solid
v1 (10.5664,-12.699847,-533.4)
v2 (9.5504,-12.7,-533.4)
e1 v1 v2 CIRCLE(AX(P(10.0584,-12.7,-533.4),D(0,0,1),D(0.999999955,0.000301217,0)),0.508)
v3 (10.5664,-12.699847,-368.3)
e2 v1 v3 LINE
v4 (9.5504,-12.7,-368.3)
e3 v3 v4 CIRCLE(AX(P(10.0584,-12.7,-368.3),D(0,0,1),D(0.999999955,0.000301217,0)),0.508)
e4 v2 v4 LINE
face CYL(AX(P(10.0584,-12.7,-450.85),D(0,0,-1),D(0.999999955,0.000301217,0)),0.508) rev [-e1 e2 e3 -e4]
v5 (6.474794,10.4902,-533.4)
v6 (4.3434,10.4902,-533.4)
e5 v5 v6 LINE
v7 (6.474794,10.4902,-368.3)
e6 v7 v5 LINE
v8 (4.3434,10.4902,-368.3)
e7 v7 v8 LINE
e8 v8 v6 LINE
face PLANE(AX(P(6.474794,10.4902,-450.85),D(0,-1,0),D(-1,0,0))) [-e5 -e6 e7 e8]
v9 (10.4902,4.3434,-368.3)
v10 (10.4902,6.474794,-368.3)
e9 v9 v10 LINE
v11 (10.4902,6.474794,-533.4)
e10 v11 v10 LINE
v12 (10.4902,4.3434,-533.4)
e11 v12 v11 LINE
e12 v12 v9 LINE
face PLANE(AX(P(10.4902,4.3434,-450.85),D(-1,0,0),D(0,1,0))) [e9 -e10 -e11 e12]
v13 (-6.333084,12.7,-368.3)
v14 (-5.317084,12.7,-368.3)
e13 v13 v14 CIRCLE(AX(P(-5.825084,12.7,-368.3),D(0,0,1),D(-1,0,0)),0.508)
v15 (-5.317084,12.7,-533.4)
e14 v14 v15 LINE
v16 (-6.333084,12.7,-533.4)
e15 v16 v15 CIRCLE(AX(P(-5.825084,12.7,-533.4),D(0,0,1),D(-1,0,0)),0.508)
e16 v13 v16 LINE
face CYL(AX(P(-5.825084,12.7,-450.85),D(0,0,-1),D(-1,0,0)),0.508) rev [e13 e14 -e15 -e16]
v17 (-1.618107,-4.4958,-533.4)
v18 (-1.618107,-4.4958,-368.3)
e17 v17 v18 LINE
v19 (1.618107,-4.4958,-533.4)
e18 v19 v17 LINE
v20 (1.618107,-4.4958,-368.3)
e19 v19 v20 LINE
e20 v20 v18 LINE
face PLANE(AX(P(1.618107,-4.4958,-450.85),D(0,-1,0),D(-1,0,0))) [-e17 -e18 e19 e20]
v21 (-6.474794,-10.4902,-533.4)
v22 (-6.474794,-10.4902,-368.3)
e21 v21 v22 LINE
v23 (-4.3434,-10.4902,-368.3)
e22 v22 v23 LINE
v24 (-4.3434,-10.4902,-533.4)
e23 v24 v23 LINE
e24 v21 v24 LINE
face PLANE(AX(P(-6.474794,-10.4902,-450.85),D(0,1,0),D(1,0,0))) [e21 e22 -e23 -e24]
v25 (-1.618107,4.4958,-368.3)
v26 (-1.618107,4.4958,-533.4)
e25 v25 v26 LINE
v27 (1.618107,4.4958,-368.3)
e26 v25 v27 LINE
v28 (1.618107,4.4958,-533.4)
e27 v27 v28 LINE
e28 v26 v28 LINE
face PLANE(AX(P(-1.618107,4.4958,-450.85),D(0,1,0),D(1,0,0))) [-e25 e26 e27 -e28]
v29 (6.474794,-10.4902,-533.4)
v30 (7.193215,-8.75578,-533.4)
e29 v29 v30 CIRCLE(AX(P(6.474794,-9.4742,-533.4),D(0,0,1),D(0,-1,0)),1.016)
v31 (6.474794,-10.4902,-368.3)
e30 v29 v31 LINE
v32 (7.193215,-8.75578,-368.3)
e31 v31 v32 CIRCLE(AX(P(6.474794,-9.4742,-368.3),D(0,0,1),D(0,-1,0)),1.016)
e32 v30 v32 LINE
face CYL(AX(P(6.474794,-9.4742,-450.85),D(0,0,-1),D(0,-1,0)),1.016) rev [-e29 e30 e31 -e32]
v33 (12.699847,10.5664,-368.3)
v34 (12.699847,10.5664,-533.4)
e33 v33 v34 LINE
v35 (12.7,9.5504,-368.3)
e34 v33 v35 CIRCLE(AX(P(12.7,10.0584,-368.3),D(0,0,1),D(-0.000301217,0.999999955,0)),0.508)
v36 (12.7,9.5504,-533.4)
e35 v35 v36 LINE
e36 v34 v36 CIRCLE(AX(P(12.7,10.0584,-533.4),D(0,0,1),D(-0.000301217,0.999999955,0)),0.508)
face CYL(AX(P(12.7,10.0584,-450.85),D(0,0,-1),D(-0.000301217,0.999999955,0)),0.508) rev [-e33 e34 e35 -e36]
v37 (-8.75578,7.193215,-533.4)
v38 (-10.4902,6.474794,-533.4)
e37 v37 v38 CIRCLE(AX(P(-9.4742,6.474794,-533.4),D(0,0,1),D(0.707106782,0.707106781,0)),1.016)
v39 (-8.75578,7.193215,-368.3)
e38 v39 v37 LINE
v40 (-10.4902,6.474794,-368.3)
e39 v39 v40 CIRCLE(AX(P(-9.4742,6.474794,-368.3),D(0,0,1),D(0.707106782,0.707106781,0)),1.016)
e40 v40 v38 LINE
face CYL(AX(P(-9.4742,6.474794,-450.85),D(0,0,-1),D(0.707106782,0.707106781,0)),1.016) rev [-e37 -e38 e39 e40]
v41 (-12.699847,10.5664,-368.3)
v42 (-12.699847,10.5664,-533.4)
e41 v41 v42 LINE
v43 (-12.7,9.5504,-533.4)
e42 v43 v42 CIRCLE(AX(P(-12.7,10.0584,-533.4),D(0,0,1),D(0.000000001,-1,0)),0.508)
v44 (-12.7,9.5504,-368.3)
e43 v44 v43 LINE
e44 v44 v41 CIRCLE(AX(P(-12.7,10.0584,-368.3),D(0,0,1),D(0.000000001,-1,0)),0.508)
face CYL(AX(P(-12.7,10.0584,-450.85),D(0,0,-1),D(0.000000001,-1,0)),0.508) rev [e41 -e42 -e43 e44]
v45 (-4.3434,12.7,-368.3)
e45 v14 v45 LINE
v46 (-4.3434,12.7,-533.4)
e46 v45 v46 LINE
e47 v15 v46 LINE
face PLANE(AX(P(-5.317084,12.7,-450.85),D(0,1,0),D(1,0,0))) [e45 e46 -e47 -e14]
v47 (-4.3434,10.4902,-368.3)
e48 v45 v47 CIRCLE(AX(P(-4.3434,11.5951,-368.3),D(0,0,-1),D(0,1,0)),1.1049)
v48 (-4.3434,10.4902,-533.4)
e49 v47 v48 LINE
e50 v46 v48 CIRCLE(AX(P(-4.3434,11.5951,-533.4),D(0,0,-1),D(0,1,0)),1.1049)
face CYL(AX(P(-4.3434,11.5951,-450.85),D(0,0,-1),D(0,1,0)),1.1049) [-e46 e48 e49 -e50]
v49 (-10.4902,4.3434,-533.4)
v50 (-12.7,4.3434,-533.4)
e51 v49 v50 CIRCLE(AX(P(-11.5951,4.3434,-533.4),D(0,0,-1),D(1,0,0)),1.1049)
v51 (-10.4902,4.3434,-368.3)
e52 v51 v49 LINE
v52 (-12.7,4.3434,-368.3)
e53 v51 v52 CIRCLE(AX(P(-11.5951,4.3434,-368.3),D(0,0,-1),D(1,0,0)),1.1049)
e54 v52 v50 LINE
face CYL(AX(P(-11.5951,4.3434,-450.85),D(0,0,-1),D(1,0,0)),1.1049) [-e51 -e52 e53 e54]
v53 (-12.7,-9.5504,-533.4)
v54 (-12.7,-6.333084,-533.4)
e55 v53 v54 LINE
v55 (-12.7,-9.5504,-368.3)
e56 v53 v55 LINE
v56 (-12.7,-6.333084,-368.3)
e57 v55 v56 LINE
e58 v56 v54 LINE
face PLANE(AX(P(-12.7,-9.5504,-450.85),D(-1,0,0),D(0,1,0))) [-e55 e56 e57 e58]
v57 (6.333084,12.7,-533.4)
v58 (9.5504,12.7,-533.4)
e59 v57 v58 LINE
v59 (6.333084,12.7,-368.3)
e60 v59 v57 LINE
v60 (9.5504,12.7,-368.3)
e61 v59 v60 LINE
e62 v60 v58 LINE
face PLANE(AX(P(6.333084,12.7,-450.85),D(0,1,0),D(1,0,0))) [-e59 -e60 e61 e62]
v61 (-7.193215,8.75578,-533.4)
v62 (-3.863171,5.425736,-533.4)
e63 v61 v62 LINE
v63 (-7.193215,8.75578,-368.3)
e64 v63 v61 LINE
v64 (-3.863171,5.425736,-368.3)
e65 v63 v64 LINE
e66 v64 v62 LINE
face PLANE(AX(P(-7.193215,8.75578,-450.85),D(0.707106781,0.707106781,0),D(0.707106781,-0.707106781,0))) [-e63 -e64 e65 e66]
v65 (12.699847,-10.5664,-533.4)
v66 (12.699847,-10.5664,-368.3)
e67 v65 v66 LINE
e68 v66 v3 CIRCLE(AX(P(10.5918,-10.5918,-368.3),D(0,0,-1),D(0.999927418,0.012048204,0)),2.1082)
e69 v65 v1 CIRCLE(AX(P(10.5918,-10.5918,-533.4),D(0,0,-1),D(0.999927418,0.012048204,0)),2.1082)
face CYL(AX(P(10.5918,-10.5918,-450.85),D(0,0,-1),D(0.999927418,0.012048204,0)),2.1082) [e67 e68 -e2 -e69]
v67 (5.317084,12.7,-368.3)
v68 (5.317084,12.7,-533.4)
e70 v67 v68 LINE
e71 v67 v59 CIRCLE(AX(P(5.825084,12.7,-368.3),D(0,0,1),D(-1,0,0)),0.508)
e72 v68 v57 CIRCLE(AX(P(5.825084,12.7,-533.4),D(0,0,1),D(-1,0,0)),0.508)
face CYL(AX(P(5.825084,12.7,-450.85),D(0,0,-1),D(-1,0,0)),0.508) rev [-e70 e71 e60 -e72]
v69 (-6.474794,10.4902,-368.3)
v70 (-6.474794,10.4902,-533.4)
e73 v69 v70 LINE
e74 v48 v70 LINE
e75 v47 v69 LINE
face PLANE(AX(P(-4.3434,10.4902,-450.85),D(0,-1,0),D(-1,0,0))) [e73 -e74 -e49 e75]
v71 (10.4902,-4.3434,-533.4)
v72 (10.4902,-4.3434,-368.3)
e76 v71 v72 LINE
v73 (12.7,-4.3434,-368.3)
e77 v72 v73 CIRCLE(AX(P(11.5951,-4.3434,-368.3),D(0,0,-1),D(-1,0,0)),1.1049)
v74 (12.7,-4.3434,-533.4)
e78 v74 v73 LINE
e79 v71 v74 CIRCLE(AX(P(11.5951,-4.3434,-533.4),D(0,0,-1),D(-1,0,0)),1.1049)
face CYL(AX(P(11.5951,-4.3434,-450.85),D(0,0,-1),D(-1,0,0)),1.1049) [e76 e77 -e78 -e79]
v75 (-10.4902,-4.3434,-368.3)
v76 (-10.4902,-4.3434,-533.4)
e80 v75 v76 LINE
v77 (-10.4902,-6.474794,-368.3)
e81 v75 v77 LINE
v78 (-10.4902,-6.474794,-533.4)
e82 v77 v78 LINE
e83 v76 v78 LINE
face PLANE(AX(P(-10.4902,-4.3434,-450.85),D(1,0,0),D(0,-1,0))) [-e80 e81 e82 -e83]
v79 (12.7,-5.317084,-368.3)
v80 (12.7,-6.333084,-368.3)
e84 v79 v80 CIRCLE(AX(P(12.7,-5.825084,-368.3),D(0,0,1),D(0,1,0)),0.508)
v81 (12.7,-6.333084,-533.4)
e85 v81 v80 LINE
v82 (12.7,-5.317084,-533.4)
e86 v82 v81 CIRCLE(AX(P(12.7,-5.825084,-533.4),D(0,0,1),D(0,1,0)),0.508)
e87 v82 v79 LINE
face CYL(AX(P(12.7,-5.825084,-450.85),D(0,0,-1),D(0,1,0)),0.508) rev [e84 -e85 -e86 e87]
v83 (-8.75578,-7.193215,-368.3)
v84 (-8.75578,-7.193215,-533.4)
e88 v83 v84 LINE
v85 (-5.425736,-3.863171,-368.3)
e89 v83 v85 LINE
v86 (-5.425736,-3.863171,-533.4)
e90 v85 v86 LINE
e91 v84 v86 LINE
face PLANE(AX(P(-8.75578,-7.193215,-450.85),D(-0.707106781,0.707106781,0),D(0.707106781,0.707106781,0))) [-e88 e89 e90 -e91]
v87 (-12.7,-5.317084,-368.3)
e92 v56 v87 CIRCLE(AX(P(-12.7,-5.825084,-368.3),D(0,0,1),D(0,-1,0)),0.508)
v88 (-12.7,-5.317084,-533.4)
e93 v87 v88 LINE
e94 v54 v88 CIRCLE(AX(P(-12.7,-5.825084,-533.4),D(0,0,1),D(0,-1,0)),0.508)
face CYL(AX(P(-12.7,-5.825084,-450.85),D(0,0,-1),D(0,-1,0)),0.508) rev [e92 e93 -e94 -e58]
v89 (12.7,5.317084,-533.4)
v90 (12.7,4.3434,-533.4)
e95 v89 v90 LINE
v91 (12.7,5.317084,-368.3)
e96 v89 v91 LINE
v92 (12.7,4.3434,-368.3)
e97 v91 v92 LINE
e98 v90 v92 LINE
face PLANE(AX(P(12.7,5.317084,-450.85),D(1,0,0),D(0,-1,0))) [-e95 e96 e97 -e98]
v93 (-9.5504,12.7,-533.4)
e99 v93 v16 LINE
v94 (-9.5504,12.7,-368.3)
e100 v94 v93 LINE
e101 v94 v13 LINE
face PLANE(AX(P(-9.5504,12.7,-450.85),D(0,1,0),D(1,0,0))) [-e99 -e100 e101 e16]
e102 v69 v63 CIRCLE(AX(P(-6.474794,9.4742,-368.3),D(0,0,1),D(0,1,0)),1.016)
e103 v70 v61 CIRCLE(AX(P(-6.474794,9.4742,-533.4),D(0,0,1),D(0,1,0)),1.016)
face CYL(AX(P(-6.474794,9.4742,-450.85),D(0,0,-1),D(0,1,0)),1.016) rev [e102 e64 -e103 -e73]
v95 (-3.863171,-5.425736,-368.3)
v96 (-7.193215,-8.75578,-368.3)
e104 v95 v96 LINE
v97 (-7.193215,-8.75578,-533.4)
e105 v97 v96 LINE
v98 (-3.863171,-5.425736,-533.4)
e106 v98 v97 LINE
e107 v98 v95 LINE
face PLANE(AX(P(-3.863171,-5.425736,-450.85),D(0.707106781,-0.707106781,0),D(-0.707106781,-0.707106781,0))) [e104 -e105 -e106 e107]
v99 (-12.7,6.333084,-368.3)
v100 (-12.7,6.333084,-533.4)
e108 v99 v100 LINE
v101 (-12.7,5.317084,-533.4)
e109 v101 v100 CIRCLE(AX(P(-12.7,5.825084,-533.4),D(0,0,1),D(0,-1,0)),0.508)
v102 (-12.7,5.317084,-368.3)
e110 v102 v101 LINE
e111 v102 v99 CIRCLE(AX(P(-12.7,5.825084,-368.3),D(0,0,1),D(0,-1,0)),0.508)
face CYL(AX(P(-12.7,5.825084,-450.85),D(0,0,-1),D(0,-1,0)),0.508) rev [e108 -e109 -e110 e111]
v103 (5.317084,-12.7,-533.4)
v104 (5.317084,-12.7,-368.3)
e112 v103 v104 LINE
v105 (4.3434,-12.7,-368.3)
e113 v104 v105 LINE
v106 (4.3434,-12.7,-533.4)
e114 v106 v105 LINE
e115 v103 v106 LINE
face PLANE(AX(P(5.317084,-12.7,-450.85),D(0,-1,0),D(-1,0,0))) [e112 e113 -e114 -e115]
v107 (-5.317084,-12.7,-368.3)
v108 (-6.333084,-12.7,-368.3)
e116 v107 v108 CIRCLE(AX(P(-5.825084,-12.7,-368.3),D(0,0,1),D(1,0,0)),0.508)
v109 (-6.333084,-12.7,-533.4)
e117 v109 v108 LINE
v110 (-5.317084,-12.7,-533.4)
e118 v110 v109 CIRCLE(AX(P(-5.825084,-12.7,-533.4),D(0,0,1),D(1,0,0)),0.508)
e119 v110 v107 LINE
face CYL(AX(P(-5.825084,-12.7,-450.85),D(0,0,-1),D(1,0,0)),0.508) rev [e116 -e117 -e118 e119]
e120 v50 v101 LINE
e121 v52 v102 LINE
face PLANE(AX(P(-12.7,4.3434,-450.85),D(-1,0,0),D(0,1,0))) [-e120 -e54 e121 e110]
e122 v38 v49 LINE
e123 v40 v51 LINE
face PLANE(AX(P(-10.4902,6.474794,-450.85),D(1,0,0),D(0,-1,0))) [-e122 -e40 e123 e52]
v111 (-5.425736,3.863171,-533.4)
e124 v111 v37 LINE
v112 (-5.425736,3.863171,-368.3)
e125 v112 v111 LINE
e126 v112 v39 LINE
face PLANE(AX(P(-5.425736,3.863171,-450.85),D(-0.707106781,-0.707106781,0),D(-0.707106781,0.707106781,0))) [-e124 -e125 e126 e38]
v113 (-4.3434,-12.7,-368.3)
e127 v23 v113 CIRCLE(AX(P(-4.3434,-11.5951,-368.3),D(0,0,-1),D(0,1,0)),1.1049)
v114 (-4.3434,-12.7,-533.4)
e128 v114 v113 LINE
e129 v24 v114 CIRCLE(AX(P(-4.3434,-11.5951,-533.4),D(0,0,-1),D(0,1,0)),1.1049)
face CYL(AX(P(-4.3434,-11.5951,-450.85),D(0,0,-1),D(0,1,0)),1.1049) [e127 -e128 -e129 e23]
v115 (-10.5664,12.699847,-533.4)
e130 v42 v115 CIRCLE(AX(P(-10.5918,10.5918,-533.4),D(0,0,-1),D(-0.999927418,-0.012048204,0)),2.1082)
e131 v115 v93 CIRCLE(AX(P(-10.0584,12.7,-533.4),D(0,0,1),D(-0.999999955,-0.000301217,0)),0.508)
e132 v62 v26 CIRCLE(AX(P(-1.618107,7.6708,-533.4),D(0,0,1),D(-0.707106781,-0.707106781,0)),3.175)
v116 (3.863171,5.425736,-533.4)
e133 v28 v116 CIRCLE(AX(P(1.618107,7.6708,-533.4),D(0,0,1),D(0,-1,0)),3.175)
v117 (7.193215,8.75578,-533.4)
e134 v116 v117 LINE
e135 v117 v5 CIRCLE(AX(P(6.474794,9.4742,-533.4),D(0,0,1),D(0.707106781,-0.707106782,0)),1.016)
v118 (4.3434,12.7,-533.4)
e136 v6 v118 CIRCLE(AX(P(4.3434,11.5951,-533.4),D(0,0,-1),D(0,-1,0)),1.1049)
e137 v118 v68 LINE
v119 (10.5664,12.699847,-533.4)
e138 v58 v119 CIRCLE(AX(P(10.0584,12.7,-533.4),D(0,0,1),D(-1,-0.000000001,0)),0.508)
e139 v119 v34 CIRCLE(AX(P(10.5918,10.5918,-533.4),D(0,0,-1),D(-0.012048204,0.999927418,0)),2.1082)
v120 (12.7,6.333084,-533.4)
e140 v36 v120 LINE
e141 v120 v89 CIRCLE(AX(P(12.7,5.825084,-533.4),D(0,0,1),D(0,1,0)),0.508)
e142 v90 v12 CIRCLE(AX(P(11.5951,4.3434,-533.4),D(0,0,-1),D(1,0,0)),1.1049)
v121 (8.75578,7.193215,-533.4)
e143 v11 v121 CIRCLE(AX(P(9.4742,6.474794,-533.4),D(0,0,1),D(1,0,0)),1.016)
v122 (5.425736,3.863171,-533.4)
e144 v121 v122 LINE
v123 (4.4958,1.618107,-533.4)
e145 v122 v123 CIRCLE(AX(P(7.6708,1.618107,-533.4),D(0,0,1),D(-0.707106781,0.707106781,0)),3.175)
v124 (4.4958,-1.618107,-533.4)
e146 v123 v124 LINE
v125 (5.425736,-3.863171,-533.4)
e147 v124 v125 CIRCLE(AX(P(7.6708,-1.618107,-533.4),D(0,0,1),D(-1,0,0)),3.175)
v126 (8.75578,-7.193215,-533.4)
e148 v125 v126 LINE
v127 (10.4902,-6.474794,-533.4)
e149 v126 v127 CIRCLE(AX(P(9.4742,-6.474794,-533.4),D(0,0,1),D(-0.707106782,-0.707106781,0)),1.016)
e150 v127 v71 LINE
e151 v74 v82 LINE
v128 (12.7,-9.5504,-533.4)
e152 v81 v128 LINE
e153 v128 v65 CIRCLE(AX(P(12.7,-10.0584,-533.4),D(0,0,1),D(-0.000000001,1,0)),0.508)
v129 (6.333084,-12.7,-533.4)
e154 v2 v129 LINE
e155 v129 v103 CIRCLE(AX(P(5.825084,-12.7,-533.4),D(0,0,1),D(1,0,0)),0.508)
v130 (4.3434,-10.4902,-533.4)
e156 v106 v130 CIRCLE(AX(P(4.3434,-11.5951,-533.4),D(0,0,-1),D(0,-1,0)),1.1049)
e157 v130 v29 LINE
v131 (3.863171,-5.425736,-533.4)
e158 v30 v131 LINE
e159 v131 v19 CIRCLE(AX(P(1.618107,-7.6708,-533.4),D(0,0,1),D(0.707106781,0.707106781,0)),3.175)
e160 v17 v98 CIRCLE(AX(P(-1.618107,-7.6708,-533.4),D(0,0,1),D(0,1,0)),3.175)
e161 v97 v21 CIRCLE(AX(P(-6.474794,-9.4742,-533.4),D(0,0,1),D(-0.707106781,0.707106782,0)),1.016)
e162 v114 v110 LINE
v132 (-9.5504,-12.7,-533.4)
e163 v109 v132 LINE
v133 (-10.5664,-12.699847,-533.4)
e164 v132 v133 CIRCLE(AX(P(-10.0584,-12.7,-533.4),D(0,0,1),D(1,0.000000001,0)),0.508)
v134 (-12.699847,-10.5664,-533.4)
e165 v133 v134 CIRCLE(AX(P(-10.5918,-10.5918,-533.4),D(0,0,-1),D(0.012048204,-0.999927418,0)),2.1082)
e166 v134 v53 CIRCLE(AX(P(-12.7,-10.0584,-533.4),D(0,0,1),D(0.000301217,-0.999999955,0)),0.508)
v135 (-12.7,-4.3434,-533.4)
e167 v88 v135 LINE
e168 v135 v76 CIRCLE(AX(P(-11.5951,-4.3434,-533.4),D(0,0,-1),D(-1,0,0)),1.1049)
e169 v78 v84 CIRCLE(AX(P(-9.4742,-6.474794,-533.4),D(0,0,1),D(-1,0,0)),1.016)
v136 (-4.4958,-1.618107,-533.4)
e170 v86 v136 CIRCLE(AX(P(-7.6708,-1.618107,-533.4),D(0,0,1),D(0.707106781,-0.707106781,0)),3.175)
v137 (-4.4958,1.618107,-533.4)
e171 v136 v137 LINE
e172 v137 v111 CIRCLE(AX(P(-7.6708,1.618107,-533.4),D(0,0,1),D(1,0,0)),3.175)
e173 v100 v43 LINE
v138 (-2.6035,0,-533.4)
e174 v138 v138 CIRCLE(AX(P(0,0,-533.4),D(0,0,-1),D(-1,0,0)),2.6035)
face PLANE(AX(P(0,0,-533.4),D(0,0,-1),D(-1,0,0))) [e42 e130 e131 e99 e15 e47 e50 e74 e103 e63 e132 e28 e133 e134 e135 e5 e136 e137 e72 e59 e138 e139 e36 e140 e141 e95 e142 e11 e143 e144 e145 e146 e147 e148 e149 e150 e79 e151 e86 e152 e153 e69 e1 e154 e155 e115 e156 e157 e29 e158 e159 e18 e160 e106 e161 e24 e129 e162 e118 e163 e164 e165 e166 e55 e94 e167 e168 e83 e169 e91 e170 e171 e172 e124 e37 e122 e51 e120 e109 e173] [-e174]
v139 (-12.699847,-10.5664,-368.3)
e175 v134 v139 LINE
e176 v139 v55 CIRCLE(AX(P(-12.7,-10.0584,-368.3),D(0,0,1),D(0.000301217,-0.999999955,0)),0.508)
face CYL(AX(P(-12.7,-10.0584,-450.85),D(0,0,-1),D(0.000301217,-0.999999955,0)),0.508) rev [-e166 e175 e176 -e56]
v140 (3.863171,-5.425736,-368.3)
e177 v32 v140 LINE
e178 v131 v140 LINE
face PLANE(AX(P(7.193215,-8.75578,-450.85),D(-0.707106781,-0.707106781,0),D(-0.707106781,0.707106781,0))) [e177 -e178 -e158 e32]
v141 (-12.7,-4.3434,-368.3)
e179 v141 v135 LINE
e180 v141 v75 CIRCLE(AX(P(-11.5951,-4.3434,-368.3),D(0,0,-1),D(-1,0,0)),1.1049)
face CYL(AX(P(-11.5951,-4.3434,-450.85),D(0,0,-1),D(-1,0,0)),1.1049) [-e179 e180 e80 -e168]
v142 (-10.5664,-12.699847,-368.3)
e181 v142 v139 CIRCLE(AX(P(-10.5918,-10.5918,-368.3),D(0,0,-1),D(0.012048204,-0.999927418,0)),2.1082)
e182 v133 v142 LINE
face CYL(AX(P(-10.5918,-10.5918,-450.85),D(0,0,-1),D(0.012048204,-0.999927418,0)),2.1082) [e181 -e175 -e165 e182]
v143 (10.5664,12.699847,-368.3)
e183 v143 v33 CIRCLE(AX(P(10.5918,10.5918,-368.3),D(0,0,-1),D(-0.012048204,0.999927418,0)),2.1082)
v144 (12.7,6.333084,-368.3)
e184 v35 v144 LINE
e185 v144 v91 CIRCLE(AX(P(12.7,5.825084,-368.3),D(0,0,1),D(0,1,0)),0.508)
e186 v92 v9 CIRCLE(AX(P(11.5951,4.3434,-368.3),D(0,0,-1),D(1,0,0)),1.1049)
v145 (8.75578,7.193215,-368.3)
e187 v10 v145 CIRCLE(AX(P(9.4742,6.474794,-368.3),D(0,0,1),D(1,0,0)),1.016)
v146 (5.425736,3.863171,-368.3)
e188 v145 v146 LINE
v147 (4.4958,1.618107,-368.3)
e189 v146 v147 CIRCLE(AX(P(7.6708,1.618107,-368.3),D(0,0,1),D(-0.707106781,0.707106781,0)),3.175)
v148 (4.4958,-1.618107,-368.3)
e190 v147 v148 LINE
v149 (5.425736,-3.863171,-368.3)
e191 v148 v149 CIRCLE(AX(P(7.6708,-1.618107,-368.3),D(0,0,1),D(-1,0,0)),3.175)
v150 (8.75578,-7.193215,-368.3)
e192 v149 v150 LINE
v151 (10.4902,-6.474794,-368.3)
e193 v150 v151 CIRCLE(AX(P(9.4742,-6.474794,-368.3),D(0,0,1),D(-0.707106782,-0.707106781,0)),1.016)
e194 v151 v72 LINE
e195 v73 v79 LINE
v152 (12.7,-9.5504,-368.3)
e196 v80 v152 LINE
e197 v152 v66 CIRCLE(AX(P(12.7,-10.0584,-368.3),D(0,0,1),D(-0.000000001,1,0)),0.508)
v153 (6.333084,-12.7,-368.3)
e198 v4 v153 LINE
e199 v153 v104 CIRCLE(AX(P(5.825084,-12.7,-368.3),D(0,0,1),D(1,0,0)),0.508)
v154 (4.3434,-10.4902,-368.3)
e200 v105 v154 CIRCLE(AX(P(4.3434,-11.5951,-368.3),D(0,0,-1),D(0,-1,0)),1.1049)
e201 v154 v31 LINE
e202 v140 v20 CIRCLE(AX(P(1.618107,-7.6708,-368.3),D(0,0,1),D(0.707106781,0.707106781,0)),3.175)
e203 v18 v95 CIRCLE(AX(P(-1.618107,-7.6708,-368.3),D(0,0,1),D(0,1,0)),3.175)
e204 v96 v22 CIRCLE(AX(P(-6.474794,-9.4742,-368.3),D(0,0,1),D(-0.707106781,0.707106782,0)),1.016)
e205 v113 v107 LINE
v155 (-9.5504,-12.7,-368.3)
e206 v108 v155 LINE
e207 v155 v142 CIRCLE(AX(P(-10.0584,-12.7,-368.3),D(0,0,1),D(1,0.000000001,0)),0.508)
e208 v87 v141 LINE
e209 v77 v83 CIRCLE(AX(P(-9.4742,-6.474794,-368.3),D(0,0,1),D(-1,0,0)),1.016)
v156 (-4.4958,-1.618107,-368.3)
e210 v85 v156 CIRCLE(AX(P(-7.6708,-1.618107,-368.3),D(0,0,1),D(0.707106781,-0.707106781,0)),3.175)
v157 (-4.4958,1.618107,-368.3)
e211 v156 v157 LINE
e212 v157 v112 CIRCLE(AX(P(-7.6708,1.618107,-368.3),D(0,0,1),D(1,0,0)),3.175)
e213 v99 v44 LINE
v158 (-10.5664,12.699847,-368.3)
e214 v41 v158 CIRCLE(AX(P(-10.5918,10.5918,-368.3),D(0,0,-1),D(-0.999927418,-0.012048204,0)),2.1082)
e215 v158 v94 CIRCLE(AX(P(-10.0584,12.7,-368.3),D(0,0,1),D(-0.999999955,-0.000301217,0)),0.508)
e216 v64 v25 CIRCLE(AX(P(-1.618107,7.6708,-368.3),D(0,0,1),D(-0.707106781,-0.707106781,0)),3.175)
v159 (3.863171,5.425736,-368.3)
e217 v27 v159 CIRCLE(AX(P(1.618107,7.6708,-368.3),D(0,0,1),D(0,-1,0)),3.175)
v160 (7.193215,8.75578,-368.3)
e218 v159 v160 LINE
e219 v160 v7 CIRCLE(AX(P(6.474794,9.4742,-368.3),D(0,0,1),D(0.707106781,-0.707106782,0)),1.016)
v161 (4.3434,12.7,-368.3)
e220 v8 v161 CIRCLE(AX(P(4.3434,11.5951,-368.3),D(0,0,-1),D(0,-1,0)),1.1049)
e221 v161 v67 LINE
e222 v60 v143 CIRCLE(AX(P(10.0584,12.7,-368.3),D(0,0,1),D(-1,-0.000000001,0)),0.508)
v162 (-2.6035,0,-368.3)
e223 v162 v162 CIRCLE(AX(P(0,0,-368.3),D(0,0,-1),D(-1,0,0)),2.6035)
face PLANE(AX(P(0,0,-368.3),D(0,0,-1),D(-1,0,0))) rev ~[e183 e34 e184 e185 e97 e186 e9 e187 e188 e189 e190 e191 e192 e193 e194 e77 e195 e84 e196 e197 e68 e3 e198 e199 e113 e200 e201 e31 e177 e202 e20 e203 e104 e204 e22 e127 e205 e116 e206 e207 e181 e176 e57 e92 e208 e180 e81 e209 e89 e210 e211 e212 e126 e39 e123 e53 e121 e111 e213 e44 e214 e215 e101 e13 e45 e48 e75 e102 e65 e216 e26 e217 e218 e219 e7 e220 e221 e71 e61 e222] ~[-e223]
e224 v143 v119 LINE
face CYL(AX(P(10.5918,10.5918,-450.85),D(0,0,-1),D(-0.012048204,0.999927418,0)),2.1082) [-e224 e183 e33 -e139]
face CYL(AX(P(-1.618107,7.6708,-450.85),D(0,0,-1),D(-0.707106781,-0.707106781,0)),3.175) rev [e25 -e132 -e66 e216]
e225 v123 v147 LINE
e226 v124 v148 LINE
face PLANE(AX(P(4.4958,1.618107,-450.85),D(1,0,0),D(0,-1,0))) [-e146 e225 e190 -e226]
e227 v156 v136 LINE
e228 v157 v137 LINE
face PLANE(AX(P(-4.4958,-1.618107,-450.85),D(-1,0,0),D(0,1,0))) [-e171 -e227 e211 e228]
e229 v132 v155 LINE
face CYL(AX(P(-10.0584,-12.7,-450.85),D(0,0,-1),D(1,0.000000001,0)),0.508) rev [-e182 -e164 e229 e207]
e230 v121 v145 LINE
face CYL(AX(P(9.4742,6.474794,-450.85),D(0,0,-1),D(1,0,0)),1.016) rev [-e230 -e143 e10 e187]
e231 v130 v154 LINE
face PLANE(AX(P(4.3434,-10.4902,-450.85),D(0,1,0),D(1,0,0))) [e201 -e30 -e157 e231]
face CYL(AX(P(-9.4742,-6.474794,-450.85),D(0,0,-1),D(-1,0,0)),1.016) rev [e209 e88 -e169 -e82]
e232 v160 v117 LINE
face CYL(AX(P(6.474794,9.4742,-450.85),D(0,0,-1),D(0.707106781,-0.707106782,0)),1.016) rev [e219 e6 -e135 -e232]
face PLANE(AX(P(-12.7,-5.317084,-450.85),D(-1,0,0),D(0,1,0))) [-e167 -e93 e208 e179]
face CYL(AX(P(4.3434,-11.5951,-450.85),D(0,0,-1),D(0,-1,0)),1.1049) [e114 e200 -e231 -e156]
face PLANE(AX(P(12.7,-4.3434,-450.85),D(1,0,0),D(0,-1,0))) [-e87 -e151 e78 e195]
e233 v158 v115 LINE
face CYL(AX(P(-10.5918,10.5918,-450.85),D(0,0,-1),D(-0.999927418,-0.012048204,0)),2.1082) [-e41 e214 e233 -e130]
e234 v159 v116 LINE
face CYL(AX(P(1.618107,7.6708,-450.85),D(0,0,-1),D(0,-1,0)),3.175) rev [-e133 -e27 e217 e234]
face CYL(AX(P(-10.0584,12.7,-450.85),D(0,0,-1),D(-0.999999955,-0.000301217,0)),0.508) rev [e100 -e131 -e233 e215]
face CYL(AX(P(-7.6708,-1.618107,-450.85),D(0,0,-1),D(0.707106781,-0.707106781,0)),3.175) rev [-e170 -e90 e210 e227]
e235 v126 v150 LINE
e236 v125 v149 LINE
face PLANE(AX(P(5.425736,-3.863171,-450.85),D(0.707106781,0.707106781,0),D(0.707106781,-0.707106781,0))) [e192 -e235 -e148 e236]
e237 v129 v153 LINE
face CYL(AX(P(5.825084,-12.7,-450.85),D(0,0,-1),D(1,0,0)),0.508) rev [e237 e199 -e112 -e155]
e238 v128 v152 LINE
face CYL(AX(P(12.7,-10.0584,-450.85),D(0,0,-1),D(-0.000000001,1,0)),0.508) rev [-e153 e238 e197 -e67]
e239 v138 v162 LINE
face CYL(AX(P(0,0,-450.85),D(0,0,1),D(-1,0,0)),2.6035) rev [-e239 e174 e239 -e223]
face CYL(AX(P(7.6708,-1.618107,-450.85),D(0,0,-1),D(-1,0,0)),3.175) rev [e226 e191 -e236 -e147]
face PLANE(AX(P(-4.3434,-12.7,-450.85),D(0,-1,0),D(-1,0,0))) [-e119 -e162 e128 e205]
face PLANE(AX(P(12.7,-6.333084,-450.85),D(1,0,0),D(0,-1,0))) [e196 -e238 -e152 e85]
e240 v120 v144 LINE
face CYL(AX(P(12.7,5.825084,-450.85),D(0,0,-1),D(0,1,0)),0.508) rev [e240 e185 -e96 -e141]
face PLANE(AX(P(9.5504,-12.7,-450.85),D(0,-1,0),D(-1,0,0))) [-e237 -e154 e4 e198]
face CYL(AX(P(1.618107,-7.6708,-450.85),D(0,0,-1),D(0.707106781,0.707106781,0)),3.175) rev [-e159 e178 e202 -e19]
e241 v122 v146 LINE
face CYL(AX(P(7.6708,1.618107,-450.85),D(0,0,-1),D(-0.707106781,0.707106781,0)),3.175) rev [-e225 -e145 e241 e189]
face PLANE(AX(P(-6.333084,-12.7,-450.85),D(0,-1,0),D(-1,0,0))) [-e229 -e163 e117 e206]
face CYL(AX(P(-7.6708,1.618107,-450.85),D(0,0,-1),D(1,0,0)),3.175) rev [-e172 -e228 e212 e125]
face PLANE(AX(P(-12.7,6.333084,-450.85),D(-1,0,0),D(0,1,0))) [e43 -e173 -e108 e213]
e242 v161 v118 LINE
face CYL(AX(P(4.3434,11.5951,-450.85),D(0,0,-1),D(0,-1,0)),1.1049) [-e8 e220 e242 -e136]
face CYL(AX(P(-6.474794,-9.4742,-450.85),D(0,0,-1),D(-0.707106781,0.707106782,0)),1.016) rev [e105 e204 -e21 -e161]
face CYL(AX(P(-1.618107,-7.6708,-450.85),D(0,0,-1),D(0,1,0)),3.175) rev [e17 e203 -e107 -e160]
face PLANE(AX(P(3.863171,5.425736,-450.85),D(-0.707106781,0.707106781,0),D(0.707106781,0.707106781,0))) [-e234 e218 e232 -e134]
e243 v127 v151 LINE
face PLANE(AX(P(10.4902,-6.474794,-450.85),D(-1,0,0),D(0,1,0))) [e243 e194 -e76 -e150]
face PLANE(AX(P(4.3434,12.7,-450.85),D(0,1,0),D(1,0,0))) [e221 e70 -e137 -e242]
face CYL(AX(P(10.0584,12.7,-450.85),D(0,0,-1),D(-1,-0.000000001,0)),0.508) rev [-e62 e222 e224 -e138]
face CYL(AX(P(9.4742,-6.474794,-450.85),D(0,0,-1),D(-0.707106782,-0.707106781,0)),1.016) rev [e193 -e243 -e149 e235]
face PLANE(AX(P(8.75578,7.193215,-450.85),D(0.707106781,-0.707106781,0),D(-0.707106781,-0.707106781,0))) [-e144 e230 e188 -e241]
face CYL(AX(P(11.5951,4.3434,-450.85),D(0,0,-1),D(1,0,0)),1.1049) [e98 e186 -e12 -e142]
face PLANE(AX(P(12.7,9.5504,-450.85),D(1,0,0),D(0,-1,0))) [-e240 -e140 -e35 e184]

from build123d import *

# Parameters (mm, degrees)
SKETCH1_R           = 2.6035
BOSS_EXTRUDE1_DEPTH = 82.55


with BuildPart() as part:
    # Sketch1 → Boss-Extrude1 (new body, symmetric)
    with BuildSketch(Plane(origin=(0, 0, -450.85), x_dir=(-1, 0, 0), z_dir=(0, 0, -1))):
        with BuildLine():
            Line((12.7, -9.5504), (12.7, -6.3330836))
            ThreePointArc((12.7, -6.3330836), (12.192, -5.8250836), (12.7, -5.3170836))
            Line((12.7, -5.3170836), (12.7, -4.3434))
            ThreePointArc((12.7, -4.3434), (11.5951, -3.2385), (10.4902, -4.3434))
            Line((10.4902, -4.3434), (10.4902, -6.474794456))
            ThreePointArc((10.4902, -6.474794456), (9.863006367, -7.413456061), (8.75577951, -7.193214945))
            Line((8.75577951, -7.193214945), (5.42573597, -3.863171405))
            ThreePointArc((5.42573597, -3.863171405), (4.737482484, -2.833127272), (4.4958, -1.618107374))
            Line((4.4958, -1.618107374), (4.4958, 1.618107374))
            ThreePointArc((4.4958, 1.618107374), (4.737482484, 2.833127272), (5.42573597, 3.863171405))
            Line((5.42573597, 3.863171405), (8.75577951, 7.193214945))
            ThreePointArc((8.75577951, 7.193214945), (9.863006367, 7.413456061), (10.4902, 6.474794456))
            Line((10.4902, 6.474794456), (10.4902, 4.343399971))
            ThreePointArc((10.4902, 4.343399971), (11.5951, 3.238499971), (12.7, 4.343399971))
            Line((12.7, 4.343399971), (12.7, 5.3170836))
            ThreePointArc((12.7, 5.3170836), (12.192, 5.8250836), (12.7, 6.3330836))
            Line((12.7, 6.3330836), (12.7, 9.5504))
            ThreePointArc((12.7, 9.5504), (12.192000006, 10.058323491), (12.699846982, 10.566399977))
            ThreePointArc((12.699846982, 10.566399977), (12.082522516, 12.082522516), (10.566399977, 12.699846982))
            ThreePointArc((10.566399977, 12.699846982), (10.058323491, 12.192000006), (9.5504, 12.7))
            Line((9.5504, 12.7), (6.3330836, 12.7))
            ThreePointArc((6.3330836, 12.7), (5.8250836, 12.192), (5.3170836, 12.7))
            Line((5.3170836, 12.7), (4.3434, 12.7))
            ThreePointArc((4.3434, 12.7), (3.2385, 11.5951), (4.3434, 10.4902))
            Line((4.3434, 10.4902), (6.474794456, 10.4902))
            ThreePointArc((6.474794456, 10.4902), (7.413456061, 9.863006367), (7.193214945, 8.75577951))
            Line((7.193214945, 8.75577951), (3.863171405, 5.42573597))
            ThreePointArc((3.863171405, 5.42573597), (2.833127272, 4.737482484), (1.618107374, 4.4958))
            Line((1.618107374, 4.4958), (-1.618107374, 4.4958))
            ThreePointArc((-1.618107374, 4.4958), (-2.833127272, 4.737482484), (-3.863171405, 5.42573597))
            Line((-3.863171405, 5.42573597), (-7.193214945, 8.75577951))
            ThreePointArc((-7.193214945, 8.75577951), (-7.413456061, 9.863006367), (-6.474794456, 10.4902))
            Line((-6.474794456, 10.4902), (-4.343399971, 10.4902))
            ThreePointArc((-4.343399971, 10.4902), (-3.238499971, 11.5951), (-4.343399971, 12.7))
            Line((-4.343399971, 12.7), (-5.3170836, 12.7))
            ThreePointArc((-5.3170836, 12.7), (-5.8250836, 12.192), (-6.3330836, 12.7))
            Line((-6.3330836, 12.7), (-9.5504, 12.7))
            ThreePointArc((-9.5504, 12.7), (-10.058323491, 12.192000006), (-10.566399977, 12.699846982))
            ThreePointArc((-10.566399977, 12.699846982), (-12.082522516, 12.082522516), (-12.699846982, 10.566399977))
            ThreePointArc((-12.699846982, 10.566399977), (-12.192000006, 10.058323491), (-12.7, 9.5504))
            Line((-12.7, 9.5504), (-12.7, 6.3330836))
            ThreePointArc((-12.7, 6.3330836), (-12.192, 5.8250836), (-12.7, 5.3170836))
            Line((-12.7, 5.3170836), (-12.7, 4.3434))
            ThreePointArc((-12.7, 4.3434), (-11.5951, 3.2385), (-10.4902, 4.3434))
            Line((-10.4902, 4.3434), (-10.4902, 6.474794456))
            ThreePointArc((-10.4902, 6.474794456), (-9.863006367, 7.413456061), (-8.75577951, 7.193214945))
            Line((-8.75577951, 7.193214945), (-5.42573597, 3.863171405))
            ThreePointArc((-5.42573597, 3.863171405), (-4.737482484, 2.833127272), (-4.4958, 1.618107374))
            Line((-4.4958, 1.618107374), (-4.4958, -1.618107374))
            ThreePointArc((-4.4958, -1.618107374), (-4.737482484, -2.833127272), (-5.42573597, -3.863171405))
            Line((-5.42573597, -3.863171405), (-8.75577951, -7.193214945))
            ThreePointArc((-8.75577951, -7.193214945), (-9.863006367, -7.413456061), (-10.4902, -6.474794456))
            Line((-10.4902, -6.474794456), (-10.4902, -4.343399971))
            ThreePointArc((-10.4902, -4.343399971), (-11.5951, -3.238499971), (-12.7, -4.343399971))
            Line((-12.7, -4.343399971), (-12.7, -5.3170836))
            ThreePointArc((-12.7, -5.3170836), (-12.192, -5.8250836), (-12.7, -6.3330836))
            Line((-12.7, -6.3330836), (-12.7, -9.5504))
            ThreePointArc((-12.7, -9.5504), (-12.192000006, -10.058323491), (-12.699846982, -10.566399977))
            ThreePointArc((-12.699846982, -10.566399977), (-12.082522516, -12.082522516), (-10.566399977, -12.699846982))
            ThreePointArc((-10.566399977, -12.699846982), (-10.058323491, -12.192000006), (-9.5504, -12.7))
            Line((-9.5504, -12.7), (-6.3330836, -12.7))
            ThreePointArc((-6.3330836, -12.7), (-5.8250836, -12.192), (-5.3170836, -12.7))
            Line((-5.3170836, -12.7), (-4.3434, -12.7))
            ThreePointArc((-4.3434, -12.7), (-3.2385, -11.5951), (-4.3434, -10.4902))
            Line((-4.3434, -10.4902), (-6.474794456, -10.4902))
            ThreePointArc((-6.474794456, -10.4902), (-7.413456061, -9.863006367), (-7.193214945, -8.75577951))
            Line((-7.193214945, -8.75577951), (-3.863171405, -5.42573597))
            ThreePointArc((-3.863171405, -5.42573597), (-2.833127272, -4.737482484), (-1.618107374, -4.4958))
            Line((-1.618107374, -4.4958), (1.618107374, -4.4958))
            ThreePointArc((1.618107374, -4.4958), (2.833127272, -4.737482484), (3.863171405, -5.42573597))
            Line((3.863171405, -5.42573597), (7.193214945, -8.75577951))
            ThreePointArc((7.193214945, -8.75577951), (7.413456061, -9.863006367), (6.474794456, -10.4902))
            Line((6.474794456, -10.4902), (4.343399971, -10.4902))
            ThreePointArc((4.343399971, -10.4902), (3.238499971, -11.5951), (4.343399971, -12.7))
            Line((4.343399971, -12.7), (5.3170836, -12.7))
            ThreePointArc((5.3170836, -12.7), (5.8250836, -12.192), (6.3330836, -12.7))
            Line((6.3330836, -12.7), (9.5504, -12.7))
            ThreePointArc((9.5504, -12.7), (10.058323491, -12.192000006), (10.566399977, -12.699846982))
            ThreePointArc((10.566399977, -12.699846982), (12.082522516, -12.082522516), (12.699846982, -10.566399977))
            ThreePointArc((12.699846982, -10.566399977), (12.192000006, -10.058323491), (12.7, -9.5504))
        make_face()
        Circle(SKETCH1_R, mode=Mode.SUBTRACT)
    extrude(amount=BOSS_EXTRUDE1_DEPTH, both=True)


solid = part.part
